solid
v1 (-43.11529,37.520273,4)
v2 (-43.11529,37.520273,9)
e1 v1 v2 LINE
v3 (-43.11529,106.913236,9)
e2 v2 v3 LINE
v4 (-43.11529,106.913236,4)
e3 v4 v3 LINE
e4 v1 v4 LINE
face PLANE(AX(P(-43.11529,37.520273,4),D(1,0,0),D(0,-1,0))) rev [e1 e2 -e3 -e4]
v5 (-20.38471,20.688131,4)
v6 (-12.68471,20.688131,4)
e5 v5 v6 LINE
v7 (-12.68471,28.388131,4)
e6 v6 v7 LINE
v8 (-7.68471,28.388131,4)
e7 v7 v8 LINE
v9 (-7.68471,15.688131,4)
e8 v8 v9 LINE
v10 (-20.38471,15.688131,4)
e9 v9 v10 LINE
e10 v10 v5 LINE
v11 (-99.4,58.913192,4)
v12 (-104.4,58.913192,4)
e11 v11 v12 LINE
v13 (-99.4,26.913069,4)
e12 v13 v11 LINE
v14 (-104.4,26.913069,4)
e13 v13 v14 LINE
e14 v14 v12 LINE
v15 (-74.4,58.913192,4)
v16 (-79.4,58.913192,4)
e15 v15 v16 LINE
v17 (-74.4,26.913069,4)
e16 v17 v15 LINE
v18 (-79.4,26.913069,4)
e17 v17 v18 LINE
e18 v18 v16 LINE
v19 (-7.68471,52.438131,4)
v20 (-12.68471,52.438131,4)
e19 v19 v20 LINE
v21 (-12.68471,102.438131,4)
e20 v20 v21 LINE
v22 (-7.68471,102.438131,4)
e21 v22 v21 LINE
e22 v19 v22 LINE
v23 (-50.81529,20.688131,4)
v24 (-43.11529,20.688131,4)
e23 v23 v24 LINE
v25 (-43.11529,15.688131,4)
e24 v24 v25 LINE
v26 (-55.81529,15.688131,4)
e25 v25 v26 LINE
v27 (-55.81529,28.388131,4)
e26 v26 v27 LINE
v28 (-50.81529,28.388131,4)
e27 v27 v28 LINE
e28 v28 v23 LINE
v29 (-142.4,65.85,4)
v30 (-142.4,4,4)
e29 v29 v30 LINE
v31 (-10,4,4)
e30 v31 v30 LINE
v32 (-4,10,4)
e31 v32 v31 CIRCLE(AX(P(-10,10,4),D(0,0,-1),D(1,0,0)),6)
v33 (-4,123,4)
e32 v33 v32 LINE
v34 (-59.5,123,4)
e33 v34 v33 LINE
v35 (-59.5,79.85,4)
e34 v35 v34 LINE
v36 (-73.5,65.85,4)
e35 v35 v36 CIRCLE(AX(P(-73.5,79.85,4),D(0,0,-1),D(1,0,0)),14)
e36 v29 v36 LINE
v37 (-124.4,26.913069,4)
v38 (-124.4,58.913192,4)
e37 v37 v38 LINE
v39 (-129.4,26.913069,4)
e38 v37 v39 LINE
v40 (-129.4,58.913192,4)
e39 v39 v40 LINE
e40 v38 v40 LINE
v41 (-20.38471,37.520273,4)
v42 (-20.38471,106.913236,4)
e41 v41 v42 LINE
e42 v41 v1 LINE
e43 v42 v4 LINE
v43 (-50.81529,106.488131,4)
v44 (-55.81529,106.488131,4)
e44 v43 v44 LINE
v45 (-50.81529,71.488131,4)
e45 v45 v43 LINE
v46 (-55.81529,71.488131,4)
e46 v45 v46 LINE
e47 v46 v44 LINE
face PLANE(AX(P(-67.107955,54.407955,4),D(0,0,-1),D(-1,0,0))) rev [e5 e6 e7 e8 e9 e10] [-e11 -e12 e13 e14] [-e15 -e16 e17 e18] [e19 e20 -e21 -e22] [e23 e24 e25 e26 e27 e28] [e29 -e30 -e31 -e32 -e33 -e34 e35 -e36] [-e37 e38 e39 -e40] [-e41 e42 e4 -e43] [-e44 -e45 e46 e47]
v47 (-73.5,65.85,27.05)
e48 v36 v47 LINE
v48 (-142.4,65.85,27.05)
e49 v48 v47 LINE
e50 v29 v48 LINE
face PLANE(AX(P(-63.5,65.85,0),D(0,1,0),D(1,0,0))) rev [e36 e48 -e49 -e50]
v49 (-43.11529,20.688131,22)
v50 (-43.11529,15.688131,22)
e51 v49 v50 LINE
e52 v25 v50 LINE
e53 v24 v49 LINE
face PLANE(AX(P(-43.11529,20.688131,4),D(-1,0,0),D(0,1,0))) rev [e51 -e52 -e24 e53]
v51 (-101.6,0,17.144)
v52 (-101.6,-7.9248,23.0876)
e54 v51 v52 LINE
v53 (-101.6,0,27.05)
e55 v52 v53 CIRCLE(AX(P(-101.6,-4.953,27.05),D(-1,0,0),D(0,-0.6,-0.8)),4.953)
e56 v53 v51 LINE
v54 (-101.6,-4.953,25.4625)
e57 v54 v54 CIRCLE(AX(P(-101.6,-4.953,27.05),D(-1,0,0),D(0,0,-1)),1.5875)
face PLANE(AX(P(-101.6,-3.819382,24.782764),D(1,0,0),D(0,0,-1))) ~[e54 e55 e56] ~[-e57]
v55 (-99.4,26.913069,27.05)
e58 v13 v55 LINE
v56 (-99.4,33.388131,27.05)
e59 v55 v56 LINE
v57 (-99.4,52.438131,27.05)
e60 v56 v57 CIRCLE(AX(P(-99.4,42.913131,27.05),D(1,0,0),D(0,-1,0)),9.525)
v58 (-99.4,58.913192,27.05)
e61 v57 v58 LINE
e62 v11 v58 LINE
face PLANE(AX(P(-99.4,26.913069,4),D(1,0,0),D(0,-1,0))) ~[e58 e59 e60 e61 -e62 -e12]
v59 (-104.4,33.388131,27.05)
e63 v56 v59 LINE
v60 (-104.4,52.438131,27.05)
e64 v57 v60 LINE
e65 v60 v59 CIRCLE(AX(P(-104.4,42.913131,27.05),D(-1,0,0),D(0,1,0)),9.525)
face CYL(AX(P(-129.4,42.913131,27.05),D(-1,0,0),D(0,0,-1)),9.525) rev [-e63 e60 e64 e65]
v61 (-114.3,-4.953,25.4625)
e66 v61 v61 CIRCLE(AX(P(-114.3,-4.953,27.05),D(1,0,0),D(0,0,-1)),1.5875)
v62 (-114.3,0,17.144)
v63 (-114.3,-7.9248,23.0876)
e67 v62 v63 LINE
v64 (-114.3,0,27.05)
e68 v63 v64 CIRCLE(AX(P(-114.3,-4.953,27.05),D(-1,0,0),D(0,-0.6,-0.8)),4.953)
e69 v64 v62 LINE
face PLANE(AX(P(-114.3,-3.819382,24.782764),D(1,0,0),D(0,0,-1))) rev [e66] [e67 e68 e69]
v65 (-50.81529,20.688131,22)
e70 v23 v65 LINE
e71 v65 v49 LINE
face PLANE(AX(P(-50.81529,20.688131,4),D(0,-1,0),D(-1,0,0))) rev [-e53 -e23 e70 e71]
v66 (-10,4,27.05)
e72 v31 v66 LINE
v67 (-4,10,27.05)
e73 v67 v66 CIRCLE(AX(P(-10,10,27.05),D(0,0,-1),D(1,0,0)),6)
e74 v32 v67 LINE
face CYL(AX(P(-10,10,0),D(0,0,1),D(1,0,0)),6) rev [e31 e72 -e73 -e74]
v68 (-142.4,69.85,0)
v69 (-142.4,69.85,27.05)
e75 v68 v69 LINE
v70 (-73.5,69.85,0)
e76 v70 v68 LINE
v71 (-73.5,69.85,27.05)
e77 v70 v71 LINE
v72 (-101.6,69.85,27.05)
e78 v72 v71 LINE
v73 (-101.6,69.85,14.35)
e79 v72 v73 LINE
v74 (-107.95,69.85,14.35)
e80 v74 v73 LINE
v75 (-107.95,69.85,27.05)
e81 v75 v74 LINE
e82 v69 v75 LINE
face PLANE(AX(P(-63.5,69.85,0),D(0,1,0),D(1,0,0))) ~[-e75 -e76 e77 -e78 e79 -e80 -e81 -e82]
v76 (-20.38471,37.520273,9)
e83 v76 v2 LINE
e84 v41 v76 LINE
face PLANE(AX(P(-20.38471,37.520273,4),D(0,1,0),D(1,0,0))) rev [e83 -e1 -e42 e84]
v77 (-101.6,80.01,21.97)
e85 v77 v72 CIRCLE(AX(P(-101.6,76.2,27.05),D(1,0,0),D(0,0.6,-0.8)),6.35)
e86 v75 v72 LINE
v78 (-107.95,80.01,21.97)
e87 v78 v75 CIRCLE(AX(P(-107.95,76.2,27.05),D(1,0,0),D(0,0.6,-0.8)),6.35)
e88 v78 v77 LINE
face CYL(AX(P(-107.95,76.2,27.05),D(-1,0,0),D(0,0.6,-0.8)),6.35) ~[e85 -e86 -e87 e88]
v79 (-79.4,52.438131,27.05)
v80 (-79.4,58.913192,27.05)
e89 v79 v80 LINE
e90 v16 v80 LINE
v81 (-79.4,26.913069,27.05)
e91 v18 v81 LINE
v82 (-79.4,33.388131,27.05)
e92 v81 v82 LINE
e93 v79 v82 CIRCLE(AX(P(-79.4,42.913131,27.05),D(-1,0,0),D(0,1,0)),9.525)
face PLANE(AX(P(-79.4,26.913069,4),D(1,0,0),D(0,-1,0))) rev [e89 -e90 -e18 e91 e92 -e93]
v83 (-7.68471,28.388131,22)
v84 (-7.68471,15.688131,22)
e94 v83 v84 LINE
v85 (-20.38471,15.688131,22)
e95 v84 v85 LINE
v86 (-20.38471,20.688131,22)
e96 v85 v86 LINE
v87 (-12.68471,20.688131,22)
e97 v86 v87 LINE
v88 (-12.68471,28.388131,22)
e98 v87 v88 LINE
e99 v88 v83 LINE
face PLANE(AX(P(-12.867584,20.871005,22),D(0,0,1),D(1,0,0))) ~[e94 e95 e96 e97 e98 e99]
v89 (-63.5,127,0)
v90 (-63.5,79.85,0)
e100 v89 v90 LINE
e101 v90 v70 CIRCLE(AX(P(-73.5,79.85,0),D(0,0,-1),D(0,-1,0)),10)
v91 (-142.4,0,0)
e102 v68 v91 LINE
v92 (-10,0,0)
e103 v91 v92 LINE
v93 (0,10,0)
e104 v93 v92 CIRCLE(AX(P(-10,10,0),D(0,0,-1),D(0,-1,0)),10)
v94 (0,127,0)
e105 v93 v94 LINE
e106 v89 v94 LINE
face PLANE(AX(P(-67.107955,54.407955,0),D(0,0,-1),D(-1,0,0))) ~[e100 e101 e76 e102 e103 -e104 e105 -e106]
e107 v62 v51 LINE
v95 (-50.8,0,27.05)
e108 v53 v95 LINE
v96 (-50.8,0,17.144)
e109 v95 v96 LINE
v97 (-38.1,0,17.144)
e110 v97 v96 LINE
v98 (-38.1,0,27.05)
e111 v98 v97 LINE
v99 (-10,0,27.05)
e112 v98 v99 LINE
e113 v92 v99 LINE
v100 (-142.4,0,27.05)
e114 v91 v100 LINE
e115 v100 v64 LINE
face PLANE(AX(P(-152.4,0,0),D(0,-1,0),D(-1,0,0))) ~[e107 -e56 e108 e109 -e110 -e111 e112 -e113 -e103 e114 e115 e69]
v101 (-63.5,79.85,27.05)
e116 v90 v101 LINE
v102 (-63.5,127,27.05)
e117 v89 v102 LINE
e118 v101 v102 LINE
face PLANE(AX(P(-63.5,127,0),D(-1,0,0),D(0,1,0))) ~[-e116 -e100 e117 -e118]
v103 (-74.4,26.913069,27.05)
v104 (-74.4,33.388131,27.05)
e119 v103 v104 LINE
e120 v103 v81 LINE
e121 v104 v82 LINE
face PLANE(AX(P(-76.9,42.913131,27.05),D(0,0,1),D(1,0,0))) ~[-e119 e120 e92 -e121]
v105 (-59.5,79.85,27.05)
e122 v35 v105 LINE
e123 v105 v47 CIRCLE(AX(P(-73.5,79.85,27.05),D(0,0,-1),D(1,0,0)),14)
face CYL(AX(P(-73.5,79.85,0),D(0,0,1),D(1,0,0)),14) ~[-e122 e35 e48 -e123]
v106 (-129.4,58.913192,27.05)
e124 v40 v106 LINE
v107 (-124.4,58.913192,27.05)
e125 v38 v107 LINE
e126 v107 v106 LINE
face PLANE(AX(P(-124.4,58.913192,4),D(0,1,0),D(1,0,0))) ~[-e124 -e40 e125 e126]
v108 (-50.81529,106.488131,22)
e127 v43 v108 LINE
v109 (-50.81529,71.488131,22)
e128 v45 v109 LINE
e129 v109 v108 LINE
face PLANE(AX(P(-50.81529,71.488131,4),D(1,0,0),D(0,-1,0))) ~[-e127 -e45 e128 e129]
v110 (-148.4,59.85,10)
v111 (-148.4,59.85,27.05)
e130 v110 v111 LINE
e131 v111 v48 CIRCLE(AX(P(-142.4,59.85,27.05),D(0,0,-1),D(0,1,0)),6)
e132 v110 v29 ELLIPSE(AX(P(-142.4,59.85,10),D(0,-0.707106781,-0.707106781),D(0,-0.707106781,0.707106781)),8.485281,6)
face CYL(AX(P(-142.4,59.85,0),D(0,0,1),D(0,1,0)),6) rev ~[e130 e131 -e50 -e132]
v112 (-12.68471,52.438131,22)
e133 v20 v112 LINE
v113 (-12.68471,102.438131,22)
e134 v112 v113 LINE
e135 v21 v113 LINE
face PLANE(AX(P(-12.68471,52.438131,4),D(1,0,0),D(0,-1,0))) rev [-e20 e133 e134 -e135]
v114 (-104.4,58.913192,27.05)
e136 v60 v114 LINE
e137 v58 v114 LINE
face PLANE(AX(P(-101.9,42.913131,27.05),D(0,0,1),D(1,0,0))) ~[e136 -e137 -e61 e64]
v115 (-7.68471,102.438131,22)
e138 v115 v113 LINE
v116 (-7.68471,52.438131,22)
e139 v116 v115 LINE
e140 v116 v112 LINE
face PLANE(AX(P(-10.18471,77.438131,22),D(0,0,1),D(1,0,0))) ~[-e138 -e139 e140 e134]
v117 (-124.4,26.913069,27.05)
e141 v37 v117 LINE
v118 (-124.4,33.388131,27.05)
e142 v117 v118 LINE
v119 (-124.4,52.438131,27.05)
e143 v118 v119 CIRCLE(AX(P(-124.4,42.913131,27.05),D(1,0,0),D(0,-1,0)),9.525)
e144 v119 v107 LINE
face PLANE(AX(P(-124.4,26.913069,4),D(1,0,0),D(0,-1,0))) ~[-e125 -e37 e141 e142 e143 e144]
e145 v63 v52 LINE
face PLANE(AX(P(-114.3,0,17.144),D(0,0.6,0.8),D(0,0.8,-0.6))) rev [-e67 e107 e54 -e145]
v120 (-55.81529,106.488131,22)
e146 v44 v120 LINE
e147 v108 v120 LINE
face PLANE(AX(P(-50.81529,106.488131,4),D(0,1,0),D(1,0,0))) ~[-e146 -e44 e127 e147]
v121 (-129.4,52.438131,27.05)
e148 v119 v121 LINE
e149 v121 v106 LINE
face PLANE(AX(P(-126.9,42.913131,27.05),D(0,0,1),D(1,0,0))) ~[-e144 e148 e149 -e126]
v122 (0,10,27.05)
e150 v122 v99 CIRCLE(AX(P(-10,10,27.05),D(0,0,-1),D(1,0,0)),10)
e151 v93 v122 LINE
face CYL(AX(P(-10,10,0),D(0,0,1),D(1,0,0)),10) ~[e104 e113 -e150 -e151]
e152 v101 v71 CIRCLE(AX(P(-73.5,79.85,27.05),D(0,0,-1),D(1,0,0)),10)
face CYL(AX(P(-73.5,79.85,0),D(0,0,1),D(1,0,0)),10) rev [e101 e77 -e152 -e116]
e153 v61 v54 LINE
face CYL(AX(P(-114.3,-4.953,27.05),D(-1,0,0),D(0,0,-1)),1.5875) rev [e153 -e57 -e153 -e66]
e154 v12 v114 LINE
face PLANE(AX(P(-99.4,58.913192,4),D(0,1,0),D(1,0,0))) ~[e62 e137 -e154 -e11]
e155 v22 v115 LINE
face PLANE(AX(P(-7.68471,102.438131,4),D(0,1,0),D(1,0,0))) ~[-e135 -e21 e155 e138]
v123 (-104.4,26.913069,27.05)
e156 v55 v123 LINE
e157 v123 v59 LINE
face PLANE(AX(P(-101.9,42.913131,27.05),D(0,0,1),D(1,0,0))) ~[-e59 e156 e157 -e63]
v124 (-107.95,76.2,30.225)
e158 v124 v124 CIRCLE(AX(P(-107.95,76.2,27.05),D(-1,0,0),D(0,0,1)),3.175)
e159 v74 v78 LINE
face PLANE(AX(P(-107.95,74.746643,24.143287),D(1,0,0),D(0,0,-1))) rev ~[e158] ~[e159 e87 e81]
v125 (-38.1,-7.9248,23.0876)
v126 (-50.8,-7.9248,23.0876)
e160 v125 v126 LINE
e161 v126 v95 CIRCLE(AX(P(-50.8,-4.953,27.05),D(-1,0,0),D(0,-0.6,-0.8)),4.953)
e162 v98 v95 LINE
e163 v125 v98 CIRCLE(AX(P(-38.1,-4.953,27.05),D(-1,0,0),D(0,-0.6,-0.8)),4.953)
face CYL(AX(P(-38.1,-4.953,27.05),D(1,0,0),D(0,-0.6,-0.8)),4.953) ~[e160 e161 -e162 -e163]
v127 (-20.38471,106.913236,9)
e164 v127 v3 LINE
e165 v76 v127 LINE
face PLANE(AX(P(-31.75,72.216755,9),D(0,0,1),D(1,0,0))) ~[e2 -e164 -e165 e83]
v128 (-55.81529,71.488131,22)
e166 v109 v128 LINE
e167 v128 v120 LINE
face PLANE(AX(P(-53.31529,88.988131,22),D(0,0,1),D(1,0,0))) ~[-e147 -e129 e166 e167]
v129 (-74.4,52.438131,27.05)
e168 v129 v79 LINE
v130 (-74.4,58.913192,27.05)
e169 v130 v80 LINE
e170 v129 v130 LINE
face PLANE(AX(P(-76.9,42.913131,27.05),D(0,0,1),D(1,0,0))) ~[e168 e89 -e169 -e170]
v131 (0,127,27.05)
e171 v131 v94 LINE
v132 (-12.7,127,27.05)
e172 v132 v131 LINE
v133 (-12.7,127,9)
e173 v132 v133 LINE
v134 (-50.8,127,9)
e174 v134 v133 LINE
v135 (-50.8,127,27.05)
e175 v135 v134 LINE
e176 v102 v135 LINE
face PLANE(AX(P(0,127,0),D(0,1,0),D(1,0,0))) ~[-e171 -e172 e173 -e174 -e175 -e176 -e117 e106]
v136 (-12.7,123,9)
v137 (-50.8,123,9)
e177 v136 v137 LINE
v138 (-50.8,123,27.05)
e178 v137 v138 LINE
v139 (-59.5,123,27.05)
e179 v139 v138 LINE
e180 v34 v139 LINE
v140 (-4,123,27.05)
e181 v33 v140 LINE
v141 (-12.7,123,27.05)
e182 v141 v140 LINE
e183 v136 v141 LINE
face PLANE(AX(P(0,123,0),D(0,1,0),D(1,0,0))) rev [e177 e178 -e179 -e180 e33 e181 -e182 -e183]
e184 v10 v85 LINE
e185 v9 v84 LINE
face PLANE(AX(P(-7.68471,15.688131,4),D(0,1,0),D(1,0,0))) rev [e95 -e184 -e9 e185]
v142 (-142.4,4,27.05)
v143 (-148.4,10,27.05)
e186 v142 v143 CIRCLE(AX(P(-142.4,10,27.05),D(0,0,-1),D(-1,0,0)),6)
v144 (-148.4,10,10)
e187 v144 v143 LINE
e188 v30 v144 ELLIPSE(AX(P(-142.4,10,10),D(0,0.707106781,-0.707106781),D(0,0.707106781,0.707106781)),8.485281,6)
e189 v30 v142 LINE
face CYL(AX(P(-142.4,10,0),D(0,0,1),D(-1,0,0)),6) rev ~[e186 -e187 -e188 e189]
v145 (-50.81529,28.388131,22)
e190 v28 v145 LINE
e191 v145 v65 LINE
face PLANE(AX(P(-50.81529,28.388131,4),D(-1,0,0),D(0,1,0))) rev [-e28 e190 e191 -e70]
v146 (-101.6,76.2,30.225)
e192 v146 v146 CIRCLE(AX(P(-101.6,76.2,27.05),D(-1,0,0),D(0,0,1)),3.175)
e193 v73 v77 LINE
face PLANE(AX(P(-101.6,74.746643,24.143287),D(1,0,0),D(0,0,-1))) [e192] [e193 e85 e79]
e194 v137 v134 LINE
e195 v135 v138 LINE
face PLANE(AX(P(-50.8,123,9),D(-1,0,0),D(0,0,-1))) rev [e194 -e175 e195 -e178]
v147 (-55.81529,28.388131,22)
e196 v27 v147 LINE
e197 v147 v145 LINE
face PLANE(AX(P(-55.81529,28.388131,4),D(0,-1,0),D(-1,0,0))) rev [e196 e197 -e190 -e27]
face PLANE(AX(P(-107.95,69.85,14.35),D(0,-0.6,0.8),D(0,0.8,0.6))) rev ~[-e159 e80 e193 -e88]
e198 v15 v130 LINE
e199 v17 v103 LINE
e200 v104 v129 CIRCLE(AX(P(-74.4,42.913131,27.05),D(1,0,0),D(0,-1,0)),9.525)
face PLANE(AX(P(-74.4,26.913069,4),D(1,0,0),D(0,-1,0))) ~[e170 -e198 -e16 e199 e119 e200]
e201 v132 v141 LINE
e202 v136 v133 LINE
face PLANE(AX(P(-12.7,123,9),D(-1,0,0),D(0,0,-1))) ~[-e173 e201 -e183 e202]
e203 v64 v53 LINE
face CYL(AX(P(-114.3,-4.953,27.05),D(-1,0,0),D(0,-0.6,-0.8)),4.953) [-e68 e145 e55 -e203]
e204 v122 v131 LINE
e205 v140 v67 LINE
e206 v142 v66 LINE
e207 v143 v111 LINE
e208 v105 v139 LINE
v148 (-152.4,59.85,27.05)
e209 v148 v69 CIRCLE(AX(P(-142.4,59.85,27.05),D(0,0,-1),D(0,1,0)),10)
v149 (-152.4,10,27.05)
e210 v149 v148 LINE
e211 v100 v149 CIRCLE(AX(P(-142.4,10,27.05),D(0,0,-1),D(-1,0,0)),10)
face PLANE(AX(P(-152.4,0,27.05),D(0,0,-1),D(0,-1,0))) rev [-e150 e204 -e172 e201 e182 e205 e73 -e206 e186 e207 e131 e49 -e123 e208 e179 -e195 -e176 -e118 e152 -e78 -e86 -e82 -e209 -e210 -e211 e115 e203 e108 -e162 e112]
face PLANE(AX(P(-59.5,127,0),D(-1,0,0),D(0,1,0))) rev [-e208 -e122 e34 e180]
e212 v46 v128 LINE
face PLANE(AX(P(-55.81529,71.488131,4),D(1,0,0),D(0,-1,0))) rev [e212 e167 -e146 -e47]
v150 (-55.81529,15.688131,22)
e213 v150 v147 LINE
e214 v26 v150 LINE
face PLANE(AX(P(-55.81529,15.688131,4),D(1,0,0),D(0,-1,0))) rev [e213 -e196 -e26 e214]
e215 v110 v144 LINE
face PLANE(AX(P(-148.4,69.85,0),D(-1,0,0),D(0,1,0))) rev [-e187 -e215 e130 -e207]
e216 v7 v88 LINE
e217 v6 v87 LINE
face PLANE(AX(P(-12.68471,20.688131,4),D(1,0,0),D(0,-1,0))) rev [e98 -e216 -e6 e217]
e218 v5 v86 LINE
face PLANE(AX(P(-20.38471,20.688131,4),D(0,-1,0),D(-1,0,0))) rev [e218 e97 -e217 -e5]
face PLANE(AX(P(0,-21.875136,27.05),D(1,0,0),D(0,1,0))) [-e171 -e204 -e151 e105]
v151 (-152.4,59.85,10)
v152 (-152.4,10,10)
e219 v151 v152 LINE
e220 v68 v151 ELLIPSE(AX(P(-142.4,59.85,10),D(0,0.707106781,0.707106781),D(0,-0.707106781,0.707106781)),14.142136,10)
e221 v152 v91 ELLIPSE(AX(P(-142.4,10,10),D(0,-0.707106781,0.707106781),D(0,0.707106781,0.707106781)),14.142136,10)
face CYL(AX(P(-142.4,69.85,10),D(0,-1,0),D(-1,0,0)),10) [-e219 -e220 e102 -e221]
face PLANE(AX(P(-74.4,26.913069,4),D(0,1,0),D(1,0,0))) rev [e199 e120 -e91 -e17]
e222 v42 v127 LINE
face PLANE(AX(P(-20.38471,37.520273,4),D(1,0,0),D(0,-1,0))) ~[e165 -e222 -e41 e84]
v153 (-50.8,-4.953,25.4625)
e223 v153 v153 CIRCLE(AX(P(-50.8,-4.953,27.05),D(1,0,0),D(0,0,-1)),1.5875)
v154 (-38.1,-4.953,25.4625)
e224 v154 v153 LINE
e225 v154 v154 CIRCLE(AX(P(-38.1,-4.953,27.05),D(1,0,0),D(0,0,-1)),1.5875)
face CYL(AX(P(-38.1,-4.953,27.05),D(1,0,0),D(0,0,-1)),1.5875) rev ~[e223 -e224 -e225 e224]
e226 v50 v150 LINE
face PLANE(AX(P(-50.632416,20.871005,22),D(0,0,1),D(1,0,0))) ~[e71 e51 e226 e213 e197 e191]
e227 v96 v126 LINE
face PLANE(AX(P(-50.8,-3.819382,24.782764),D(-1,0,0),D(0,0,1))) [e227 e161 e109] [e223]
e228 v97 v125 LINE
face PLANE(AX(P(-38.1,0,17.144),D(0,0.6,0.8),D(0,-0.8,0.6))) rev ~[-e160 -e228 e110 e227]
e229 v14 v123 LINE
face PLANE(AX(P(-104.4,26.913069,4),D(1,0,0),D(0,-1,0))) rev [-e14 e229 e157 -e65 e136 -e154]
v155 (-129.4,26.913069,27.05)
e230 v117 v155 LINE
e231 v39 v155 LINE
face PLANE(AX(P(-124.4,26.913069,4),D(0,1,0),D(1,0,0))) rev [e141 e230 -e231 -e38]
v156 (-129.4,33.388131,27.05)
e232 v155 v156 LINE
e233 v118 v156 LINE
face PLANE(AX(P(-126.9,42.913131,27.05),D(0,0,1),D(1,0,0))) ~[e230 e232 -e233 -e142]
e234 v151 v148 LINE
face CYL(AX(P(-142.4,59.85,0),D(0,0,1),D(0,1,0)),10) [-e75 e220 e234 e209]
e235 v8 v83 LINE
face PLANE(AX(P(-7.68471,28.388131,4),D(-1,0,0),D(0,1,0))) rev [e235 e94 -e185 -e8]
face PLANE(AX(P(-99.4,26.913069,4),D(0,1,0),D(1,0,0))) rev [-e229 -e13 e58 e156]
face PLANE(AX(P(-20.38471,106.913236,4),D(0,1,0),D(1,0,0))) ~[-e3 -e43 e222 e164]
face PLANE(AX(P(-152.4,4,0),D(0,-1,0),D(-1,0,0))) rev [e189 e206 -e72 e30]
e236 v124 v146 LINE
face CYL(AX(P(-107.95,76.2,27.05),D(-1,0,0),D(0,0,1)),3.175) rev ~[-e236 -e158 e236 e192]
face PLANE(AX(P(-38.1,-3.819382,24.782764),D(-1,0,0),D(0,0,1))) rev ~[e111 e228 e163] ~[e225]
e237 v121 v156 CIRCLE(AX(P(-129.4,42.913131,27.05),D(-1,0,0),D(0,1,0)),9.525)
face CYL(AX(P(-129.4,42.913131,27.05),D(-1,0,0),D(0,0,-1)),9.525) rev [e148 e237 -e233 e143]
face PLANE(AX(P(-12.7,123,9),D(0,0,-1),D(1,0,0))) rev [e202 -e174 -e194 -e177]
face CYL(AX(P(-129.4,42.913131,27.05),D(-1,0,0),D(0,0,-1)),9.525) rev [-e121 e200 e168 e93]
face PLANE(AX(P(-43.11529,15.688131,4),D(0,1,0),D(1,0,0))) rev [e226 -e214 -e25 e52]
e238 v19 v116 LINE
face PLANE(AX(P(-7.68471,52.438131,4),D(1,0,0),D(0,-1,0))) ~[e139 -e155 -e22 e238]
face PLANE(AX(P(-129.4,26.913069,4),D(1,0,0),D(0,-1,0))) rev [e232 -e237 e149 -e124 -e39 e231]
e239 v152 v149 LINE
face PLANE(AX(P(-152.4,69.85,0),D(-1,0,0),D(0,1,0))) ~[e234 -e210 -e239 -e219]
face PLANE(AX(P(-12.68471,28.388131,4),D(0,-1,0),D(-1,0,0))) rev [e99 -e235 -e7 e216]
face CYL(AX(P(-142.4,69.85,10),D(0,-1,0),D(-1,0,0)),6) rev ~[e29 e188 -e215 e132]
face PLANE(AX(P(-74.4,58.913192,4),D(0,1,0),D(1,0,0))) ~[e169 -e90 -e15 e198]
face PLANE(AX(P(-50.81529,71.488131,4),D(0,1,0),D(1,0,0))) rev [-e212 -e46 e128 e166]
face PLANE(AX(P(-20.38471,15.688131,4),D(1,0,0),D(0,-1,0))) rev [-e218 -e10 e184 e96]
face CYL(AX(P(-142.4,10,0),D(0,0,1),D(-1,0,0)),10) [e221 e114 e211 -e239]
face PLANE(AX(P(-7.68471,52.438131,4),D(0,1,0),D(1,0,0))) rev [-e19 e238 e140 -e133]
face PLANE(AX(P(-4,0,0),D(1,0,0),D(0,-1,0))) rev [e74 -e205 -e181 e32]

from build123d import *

# Parameters (mm, degrees)
SALIENTE_EXTRUIR1_DEPTH = 54.1
REDONDEO1_R             = 10
CROQUIS2_W              = 27.05
CROQUIS2_H              = 127
CORTAR_EXTRUIR1_DEPTH   = 206.624828267
VACIADO1_T              = -4
CROQUIS3_W              = 22.730580246
CROQUIS3_H              = 69.392963169
SALIENTE_EXTRUIR2_DEPTH = 5
CROQUIS3_3_W            = 5
CROQUIS3_3_H            = 50
CROQUIS3_3_H_2          = 35
SALIENTE_EXTRUIR3_DEPTH = 18
CROQUIS4_W              = 5
CROQUIS4_H              = 32.000123075
SALIENTE_EXTRUIR4_DEPTH = 23.05
CORTAR_EXTRUIR2_REACH   = 185.317
CROQUIS5_R              = 9.525
CROQUIS6_W              = 38.1
CROQUIS6_H              = 42.277753805
CORTAR_EXTRUIR3_DEPTH   = 18
CROQUIS7_W              = 180.240941947
CROQUIS7_H              = 148.875136133
CORTAR_EXTRUIR4_DEPTH   = 201.216039567
SALIENTE_EXTRUIR5_DEPTH = 12.7
CROQUIS9_R              = 1.5875
CORTAR_EXTRUIR5_DEPTH   = 174.832338789
CROQUIS10_R             = 3.175
SALIENTE_EXTRUIR6_DEPTH = 6.35


with BuildPart() as part:
    # Croquis1 → Saliente-Extruir1 (new body)
    with BuildSketch(Plane.XY):
        Polygon((0, 0), (0, 127), (63.5, 127), (63.5, 69.85), (152.4, 69.85), (152.4, 0), align=None)
    extrude(amount=SALIENTE_EXTRUIR1_DEPTH)

    # Redondeo1
    redondeo1_edges = [part.edges().sort_by_distance(p)[0] for p in [
        (63.5, 69.85, 27.05),
        (152.4, 69.85, 27.05),
        (152.4, 0, 27.05),
        (0, 0, 27.05),
        (152.4, 34.925, 0),
    ]]
    fillet(redondeo1_edges, radius=REDONDEO1_R)

    # Croquis2 → Cortar-Extruir1 (cut, through all)
    with BuildSketch(Plane(origin=(152.4, 0, 0), x_dir=(0, 0, -1), z_dir=(1, 0, 0))):
        with Locations((-40.575, 63.5)):
            Rectangle(CROQUIS2_W, CROQUIS2_H)
    extrude(amount=-CORTAR_EXTRUIR1_DEPTH, mode=Mode.SUBTRACT)

    # Vaciado1
    vaciado1_openings = [part.faces().sort_by_distance(p)[0] for p in [
        (64.737748774, 51.223088278, 27.05),
    ]]
    offset(amount=VACIADO1_T, openings=vaciado1_openings)

    # Croquis3 → Saliente-Extruir2 (add)
    with BuildSketch(Plane.XY.offset(4)):
        with Locations((31.75, 72.216754897)):
            Rectangle(CROQUIS3_W, CROQUIS3_H)
    extrude(amount=SALIENTE_EXTRUIR2_DEPTH)

    # Croquis3<3> → Saliente-Extruir3 (add)
    with BuildSketch(Plane.XY.offset(4)):
        with Locations((10.184709877, 77.438130808)):
            Rectangle(CROQUIS3_3_W, CROQUIS3_3_H)
        with Locations((53.315290123, 88.988130808)):
            Rectangle(CROQUIS3_3_W, CROQUIS3_3_H_2)
        Polygon((50.815290123, 20.688130808), (43.115290123, 20.688130808), (43.115290123, 15.688130808), (55.815290123, 15.688130808), (55.815290123, 28.388130808), (50.815290123, 28.388130808), align=None)
        Polygon((20.384709877, 20.688130808), (12.684709877, 20.688130808), (12.684709877, 28.388130808), (7.684709877, 28.388130808), (7.684709877, 15.688130808), (20.384709877, 15.688130808), align=None)
    extrude(amount=SALIENTE_EXTRUIR3_DEPTH)

    # Croquis4 → Saliente-Extruir4 (add)
    with BuildSketch(Plane.XY.offset(4)):
        with Locations((76.9, 42.913130808)):
            Rectangle(CROQUIS4_W, CROQUIS4_H)
        with Locations((101.9, 42.913130808)):
            Rectangle(CROQUIS4_W, CROQUIS4_H)
        with Locations((126.9, 42.913130808)):
            Rectangle(CROQUIS4_W, CROQUIS4_H)
    extrude(amount=SALIENTE_EXTRUIR4_DEPTH)

    # Cortar-Extruir2: up to this face of the body (flat: up to its plane)
    cortar_extruir2_end = Plane(part.part.faces().sort_by_distance((55.815290123, 22.038130808, 13))[0])
    # Croquis5 → Cortar-Extruir2 (cut, up to the picked face)
    with BuildSketch(Plane(origin=(129.4, 0, 0), x_dir=(0, 0, -1), z_dir=(1, 0, 0)), mode=Mode.PRIVATE) as cortar_extruir2_sk1:
        with Locations((-27.05, 42.913130808)):
            Circle(CROQUIS5_R)
    cortar_extruir2_tool1 = split(extrude(cortar_extruir2_sk1.sketch, amount=-CORTAR_EXTRUIR2_REACH, mode=Mode.PRIVATE), bisect_by=cortar_extruir2_end, keep=Keep.BOTH, mode=Mode.PRIVATE)
    add(cortar_extruir2_tool1.solids().sort_by(Axis((129.4, 42.913131, 27.05), (-1, 0, 0)))[0], mode=Mode.SUBTRACT)

    # Croquis6 → Cortar-Extruir3 (cut)
    with BuildSketch(Plane.XZ.offset(-123)):
        with Locations((31.75, 30.138876903)):
            Rectangle(CROQUIS6_W, CROQUIS6_H)
    extrude(amount=-CORTAR_EXTRUIR3_DEPTH, mode=Mode.SUBTRACT)

    # Simetría5: part across plane


with BuildPart() as part_1:
    add(part.part)
    add(part.part.mirror(Plane(origin=(0, 0, 54.1), x_dir=(0, 0, 1), z_dir=(1, 0, 0))))

    # Croquis7 → Cortar-Extruir4 (cut, through all)
    with BuildSketch(Plane.XY.offset(27.05)):
        with Locations((90.120470974, 52.562431934)):
            Rectangle(CROQUIS7_W, CROQUIS7_H)
    extrude(amount=-CORTAR_EXTRUIR4_DEPTH, mode=Mode.SUBTRACT)

    # Croquis8 → Saliente-Extruir5 (add)
    with BuildSketch(Plane(origin=(-38.1, 0, 0), x_dir=(0, 0, -1), z_dir=(1, 0, 0))):
        with BuildLine():
            Line((-27.05, 0), (-17.144, 0))
            Line((-17.144, 0), (-23.0876, -7.9248))
            ThreePointArc((-23.0876, -7.9248), (-31.480097877, -7.168048939), (-27.05, 0))
        make_face()
    saliente_extruir5 = extrude(amount=-SALIENTE_EXTRUIR5_DEPTH)

    # Croquis9 → Cortar-Extruir5 (cut, through all)
    with BuildSketch(Plane(origin=(-38.1, 0, 0), x_dir=(0, 0, -1), z_dir=(1, 0, 0))):
        with Locations((-27.05, -4.953)):
            Circle(CROQUIS9_R)
    cortar_extruir5 = extrude(amount=-CORTAR_EXTRUIR5_DEPTH, mode=Mode.SUBTRACT)

    # Simetría6: Saliente-Extruir5, Cortar-Extruir5 across plane
    add(saliente_extruir5.mirror(Plane(origin=(-76.2, 0, 0), x_dir=(0, 0, 1), z_dir=(1, 0, 0))))
    add(cortar_extruir5.mirror(Plane(origin=(-76.2, 0, 0), x_dir=(0, 0, 1), z_dir=(1, 0, 0))), mode=Mode.SUBTRACT)

    # Croquis10 → Saliente-Extruir6 (add)
    with BuildSketch(Plane.ZY.offset(107.95)):
        with BuildLine():
            Line((27.05, 69.85), (14.35, 69.85))
            Line((14.35, 69.85), (21.97, 80.01))
            ThreePointArc((21.97, 80.01), (32.729612663, 79.039806331), (27.05, 69.85))
        make_face()
        with Locations((27.05, 76.2)):
            Circle(CROQUIS10_R, mode=Mode.SUBTRACT)
    extrude(amount=-SALIENTE_EXTRUIR6_DEPTH)


solid = part_1.part
